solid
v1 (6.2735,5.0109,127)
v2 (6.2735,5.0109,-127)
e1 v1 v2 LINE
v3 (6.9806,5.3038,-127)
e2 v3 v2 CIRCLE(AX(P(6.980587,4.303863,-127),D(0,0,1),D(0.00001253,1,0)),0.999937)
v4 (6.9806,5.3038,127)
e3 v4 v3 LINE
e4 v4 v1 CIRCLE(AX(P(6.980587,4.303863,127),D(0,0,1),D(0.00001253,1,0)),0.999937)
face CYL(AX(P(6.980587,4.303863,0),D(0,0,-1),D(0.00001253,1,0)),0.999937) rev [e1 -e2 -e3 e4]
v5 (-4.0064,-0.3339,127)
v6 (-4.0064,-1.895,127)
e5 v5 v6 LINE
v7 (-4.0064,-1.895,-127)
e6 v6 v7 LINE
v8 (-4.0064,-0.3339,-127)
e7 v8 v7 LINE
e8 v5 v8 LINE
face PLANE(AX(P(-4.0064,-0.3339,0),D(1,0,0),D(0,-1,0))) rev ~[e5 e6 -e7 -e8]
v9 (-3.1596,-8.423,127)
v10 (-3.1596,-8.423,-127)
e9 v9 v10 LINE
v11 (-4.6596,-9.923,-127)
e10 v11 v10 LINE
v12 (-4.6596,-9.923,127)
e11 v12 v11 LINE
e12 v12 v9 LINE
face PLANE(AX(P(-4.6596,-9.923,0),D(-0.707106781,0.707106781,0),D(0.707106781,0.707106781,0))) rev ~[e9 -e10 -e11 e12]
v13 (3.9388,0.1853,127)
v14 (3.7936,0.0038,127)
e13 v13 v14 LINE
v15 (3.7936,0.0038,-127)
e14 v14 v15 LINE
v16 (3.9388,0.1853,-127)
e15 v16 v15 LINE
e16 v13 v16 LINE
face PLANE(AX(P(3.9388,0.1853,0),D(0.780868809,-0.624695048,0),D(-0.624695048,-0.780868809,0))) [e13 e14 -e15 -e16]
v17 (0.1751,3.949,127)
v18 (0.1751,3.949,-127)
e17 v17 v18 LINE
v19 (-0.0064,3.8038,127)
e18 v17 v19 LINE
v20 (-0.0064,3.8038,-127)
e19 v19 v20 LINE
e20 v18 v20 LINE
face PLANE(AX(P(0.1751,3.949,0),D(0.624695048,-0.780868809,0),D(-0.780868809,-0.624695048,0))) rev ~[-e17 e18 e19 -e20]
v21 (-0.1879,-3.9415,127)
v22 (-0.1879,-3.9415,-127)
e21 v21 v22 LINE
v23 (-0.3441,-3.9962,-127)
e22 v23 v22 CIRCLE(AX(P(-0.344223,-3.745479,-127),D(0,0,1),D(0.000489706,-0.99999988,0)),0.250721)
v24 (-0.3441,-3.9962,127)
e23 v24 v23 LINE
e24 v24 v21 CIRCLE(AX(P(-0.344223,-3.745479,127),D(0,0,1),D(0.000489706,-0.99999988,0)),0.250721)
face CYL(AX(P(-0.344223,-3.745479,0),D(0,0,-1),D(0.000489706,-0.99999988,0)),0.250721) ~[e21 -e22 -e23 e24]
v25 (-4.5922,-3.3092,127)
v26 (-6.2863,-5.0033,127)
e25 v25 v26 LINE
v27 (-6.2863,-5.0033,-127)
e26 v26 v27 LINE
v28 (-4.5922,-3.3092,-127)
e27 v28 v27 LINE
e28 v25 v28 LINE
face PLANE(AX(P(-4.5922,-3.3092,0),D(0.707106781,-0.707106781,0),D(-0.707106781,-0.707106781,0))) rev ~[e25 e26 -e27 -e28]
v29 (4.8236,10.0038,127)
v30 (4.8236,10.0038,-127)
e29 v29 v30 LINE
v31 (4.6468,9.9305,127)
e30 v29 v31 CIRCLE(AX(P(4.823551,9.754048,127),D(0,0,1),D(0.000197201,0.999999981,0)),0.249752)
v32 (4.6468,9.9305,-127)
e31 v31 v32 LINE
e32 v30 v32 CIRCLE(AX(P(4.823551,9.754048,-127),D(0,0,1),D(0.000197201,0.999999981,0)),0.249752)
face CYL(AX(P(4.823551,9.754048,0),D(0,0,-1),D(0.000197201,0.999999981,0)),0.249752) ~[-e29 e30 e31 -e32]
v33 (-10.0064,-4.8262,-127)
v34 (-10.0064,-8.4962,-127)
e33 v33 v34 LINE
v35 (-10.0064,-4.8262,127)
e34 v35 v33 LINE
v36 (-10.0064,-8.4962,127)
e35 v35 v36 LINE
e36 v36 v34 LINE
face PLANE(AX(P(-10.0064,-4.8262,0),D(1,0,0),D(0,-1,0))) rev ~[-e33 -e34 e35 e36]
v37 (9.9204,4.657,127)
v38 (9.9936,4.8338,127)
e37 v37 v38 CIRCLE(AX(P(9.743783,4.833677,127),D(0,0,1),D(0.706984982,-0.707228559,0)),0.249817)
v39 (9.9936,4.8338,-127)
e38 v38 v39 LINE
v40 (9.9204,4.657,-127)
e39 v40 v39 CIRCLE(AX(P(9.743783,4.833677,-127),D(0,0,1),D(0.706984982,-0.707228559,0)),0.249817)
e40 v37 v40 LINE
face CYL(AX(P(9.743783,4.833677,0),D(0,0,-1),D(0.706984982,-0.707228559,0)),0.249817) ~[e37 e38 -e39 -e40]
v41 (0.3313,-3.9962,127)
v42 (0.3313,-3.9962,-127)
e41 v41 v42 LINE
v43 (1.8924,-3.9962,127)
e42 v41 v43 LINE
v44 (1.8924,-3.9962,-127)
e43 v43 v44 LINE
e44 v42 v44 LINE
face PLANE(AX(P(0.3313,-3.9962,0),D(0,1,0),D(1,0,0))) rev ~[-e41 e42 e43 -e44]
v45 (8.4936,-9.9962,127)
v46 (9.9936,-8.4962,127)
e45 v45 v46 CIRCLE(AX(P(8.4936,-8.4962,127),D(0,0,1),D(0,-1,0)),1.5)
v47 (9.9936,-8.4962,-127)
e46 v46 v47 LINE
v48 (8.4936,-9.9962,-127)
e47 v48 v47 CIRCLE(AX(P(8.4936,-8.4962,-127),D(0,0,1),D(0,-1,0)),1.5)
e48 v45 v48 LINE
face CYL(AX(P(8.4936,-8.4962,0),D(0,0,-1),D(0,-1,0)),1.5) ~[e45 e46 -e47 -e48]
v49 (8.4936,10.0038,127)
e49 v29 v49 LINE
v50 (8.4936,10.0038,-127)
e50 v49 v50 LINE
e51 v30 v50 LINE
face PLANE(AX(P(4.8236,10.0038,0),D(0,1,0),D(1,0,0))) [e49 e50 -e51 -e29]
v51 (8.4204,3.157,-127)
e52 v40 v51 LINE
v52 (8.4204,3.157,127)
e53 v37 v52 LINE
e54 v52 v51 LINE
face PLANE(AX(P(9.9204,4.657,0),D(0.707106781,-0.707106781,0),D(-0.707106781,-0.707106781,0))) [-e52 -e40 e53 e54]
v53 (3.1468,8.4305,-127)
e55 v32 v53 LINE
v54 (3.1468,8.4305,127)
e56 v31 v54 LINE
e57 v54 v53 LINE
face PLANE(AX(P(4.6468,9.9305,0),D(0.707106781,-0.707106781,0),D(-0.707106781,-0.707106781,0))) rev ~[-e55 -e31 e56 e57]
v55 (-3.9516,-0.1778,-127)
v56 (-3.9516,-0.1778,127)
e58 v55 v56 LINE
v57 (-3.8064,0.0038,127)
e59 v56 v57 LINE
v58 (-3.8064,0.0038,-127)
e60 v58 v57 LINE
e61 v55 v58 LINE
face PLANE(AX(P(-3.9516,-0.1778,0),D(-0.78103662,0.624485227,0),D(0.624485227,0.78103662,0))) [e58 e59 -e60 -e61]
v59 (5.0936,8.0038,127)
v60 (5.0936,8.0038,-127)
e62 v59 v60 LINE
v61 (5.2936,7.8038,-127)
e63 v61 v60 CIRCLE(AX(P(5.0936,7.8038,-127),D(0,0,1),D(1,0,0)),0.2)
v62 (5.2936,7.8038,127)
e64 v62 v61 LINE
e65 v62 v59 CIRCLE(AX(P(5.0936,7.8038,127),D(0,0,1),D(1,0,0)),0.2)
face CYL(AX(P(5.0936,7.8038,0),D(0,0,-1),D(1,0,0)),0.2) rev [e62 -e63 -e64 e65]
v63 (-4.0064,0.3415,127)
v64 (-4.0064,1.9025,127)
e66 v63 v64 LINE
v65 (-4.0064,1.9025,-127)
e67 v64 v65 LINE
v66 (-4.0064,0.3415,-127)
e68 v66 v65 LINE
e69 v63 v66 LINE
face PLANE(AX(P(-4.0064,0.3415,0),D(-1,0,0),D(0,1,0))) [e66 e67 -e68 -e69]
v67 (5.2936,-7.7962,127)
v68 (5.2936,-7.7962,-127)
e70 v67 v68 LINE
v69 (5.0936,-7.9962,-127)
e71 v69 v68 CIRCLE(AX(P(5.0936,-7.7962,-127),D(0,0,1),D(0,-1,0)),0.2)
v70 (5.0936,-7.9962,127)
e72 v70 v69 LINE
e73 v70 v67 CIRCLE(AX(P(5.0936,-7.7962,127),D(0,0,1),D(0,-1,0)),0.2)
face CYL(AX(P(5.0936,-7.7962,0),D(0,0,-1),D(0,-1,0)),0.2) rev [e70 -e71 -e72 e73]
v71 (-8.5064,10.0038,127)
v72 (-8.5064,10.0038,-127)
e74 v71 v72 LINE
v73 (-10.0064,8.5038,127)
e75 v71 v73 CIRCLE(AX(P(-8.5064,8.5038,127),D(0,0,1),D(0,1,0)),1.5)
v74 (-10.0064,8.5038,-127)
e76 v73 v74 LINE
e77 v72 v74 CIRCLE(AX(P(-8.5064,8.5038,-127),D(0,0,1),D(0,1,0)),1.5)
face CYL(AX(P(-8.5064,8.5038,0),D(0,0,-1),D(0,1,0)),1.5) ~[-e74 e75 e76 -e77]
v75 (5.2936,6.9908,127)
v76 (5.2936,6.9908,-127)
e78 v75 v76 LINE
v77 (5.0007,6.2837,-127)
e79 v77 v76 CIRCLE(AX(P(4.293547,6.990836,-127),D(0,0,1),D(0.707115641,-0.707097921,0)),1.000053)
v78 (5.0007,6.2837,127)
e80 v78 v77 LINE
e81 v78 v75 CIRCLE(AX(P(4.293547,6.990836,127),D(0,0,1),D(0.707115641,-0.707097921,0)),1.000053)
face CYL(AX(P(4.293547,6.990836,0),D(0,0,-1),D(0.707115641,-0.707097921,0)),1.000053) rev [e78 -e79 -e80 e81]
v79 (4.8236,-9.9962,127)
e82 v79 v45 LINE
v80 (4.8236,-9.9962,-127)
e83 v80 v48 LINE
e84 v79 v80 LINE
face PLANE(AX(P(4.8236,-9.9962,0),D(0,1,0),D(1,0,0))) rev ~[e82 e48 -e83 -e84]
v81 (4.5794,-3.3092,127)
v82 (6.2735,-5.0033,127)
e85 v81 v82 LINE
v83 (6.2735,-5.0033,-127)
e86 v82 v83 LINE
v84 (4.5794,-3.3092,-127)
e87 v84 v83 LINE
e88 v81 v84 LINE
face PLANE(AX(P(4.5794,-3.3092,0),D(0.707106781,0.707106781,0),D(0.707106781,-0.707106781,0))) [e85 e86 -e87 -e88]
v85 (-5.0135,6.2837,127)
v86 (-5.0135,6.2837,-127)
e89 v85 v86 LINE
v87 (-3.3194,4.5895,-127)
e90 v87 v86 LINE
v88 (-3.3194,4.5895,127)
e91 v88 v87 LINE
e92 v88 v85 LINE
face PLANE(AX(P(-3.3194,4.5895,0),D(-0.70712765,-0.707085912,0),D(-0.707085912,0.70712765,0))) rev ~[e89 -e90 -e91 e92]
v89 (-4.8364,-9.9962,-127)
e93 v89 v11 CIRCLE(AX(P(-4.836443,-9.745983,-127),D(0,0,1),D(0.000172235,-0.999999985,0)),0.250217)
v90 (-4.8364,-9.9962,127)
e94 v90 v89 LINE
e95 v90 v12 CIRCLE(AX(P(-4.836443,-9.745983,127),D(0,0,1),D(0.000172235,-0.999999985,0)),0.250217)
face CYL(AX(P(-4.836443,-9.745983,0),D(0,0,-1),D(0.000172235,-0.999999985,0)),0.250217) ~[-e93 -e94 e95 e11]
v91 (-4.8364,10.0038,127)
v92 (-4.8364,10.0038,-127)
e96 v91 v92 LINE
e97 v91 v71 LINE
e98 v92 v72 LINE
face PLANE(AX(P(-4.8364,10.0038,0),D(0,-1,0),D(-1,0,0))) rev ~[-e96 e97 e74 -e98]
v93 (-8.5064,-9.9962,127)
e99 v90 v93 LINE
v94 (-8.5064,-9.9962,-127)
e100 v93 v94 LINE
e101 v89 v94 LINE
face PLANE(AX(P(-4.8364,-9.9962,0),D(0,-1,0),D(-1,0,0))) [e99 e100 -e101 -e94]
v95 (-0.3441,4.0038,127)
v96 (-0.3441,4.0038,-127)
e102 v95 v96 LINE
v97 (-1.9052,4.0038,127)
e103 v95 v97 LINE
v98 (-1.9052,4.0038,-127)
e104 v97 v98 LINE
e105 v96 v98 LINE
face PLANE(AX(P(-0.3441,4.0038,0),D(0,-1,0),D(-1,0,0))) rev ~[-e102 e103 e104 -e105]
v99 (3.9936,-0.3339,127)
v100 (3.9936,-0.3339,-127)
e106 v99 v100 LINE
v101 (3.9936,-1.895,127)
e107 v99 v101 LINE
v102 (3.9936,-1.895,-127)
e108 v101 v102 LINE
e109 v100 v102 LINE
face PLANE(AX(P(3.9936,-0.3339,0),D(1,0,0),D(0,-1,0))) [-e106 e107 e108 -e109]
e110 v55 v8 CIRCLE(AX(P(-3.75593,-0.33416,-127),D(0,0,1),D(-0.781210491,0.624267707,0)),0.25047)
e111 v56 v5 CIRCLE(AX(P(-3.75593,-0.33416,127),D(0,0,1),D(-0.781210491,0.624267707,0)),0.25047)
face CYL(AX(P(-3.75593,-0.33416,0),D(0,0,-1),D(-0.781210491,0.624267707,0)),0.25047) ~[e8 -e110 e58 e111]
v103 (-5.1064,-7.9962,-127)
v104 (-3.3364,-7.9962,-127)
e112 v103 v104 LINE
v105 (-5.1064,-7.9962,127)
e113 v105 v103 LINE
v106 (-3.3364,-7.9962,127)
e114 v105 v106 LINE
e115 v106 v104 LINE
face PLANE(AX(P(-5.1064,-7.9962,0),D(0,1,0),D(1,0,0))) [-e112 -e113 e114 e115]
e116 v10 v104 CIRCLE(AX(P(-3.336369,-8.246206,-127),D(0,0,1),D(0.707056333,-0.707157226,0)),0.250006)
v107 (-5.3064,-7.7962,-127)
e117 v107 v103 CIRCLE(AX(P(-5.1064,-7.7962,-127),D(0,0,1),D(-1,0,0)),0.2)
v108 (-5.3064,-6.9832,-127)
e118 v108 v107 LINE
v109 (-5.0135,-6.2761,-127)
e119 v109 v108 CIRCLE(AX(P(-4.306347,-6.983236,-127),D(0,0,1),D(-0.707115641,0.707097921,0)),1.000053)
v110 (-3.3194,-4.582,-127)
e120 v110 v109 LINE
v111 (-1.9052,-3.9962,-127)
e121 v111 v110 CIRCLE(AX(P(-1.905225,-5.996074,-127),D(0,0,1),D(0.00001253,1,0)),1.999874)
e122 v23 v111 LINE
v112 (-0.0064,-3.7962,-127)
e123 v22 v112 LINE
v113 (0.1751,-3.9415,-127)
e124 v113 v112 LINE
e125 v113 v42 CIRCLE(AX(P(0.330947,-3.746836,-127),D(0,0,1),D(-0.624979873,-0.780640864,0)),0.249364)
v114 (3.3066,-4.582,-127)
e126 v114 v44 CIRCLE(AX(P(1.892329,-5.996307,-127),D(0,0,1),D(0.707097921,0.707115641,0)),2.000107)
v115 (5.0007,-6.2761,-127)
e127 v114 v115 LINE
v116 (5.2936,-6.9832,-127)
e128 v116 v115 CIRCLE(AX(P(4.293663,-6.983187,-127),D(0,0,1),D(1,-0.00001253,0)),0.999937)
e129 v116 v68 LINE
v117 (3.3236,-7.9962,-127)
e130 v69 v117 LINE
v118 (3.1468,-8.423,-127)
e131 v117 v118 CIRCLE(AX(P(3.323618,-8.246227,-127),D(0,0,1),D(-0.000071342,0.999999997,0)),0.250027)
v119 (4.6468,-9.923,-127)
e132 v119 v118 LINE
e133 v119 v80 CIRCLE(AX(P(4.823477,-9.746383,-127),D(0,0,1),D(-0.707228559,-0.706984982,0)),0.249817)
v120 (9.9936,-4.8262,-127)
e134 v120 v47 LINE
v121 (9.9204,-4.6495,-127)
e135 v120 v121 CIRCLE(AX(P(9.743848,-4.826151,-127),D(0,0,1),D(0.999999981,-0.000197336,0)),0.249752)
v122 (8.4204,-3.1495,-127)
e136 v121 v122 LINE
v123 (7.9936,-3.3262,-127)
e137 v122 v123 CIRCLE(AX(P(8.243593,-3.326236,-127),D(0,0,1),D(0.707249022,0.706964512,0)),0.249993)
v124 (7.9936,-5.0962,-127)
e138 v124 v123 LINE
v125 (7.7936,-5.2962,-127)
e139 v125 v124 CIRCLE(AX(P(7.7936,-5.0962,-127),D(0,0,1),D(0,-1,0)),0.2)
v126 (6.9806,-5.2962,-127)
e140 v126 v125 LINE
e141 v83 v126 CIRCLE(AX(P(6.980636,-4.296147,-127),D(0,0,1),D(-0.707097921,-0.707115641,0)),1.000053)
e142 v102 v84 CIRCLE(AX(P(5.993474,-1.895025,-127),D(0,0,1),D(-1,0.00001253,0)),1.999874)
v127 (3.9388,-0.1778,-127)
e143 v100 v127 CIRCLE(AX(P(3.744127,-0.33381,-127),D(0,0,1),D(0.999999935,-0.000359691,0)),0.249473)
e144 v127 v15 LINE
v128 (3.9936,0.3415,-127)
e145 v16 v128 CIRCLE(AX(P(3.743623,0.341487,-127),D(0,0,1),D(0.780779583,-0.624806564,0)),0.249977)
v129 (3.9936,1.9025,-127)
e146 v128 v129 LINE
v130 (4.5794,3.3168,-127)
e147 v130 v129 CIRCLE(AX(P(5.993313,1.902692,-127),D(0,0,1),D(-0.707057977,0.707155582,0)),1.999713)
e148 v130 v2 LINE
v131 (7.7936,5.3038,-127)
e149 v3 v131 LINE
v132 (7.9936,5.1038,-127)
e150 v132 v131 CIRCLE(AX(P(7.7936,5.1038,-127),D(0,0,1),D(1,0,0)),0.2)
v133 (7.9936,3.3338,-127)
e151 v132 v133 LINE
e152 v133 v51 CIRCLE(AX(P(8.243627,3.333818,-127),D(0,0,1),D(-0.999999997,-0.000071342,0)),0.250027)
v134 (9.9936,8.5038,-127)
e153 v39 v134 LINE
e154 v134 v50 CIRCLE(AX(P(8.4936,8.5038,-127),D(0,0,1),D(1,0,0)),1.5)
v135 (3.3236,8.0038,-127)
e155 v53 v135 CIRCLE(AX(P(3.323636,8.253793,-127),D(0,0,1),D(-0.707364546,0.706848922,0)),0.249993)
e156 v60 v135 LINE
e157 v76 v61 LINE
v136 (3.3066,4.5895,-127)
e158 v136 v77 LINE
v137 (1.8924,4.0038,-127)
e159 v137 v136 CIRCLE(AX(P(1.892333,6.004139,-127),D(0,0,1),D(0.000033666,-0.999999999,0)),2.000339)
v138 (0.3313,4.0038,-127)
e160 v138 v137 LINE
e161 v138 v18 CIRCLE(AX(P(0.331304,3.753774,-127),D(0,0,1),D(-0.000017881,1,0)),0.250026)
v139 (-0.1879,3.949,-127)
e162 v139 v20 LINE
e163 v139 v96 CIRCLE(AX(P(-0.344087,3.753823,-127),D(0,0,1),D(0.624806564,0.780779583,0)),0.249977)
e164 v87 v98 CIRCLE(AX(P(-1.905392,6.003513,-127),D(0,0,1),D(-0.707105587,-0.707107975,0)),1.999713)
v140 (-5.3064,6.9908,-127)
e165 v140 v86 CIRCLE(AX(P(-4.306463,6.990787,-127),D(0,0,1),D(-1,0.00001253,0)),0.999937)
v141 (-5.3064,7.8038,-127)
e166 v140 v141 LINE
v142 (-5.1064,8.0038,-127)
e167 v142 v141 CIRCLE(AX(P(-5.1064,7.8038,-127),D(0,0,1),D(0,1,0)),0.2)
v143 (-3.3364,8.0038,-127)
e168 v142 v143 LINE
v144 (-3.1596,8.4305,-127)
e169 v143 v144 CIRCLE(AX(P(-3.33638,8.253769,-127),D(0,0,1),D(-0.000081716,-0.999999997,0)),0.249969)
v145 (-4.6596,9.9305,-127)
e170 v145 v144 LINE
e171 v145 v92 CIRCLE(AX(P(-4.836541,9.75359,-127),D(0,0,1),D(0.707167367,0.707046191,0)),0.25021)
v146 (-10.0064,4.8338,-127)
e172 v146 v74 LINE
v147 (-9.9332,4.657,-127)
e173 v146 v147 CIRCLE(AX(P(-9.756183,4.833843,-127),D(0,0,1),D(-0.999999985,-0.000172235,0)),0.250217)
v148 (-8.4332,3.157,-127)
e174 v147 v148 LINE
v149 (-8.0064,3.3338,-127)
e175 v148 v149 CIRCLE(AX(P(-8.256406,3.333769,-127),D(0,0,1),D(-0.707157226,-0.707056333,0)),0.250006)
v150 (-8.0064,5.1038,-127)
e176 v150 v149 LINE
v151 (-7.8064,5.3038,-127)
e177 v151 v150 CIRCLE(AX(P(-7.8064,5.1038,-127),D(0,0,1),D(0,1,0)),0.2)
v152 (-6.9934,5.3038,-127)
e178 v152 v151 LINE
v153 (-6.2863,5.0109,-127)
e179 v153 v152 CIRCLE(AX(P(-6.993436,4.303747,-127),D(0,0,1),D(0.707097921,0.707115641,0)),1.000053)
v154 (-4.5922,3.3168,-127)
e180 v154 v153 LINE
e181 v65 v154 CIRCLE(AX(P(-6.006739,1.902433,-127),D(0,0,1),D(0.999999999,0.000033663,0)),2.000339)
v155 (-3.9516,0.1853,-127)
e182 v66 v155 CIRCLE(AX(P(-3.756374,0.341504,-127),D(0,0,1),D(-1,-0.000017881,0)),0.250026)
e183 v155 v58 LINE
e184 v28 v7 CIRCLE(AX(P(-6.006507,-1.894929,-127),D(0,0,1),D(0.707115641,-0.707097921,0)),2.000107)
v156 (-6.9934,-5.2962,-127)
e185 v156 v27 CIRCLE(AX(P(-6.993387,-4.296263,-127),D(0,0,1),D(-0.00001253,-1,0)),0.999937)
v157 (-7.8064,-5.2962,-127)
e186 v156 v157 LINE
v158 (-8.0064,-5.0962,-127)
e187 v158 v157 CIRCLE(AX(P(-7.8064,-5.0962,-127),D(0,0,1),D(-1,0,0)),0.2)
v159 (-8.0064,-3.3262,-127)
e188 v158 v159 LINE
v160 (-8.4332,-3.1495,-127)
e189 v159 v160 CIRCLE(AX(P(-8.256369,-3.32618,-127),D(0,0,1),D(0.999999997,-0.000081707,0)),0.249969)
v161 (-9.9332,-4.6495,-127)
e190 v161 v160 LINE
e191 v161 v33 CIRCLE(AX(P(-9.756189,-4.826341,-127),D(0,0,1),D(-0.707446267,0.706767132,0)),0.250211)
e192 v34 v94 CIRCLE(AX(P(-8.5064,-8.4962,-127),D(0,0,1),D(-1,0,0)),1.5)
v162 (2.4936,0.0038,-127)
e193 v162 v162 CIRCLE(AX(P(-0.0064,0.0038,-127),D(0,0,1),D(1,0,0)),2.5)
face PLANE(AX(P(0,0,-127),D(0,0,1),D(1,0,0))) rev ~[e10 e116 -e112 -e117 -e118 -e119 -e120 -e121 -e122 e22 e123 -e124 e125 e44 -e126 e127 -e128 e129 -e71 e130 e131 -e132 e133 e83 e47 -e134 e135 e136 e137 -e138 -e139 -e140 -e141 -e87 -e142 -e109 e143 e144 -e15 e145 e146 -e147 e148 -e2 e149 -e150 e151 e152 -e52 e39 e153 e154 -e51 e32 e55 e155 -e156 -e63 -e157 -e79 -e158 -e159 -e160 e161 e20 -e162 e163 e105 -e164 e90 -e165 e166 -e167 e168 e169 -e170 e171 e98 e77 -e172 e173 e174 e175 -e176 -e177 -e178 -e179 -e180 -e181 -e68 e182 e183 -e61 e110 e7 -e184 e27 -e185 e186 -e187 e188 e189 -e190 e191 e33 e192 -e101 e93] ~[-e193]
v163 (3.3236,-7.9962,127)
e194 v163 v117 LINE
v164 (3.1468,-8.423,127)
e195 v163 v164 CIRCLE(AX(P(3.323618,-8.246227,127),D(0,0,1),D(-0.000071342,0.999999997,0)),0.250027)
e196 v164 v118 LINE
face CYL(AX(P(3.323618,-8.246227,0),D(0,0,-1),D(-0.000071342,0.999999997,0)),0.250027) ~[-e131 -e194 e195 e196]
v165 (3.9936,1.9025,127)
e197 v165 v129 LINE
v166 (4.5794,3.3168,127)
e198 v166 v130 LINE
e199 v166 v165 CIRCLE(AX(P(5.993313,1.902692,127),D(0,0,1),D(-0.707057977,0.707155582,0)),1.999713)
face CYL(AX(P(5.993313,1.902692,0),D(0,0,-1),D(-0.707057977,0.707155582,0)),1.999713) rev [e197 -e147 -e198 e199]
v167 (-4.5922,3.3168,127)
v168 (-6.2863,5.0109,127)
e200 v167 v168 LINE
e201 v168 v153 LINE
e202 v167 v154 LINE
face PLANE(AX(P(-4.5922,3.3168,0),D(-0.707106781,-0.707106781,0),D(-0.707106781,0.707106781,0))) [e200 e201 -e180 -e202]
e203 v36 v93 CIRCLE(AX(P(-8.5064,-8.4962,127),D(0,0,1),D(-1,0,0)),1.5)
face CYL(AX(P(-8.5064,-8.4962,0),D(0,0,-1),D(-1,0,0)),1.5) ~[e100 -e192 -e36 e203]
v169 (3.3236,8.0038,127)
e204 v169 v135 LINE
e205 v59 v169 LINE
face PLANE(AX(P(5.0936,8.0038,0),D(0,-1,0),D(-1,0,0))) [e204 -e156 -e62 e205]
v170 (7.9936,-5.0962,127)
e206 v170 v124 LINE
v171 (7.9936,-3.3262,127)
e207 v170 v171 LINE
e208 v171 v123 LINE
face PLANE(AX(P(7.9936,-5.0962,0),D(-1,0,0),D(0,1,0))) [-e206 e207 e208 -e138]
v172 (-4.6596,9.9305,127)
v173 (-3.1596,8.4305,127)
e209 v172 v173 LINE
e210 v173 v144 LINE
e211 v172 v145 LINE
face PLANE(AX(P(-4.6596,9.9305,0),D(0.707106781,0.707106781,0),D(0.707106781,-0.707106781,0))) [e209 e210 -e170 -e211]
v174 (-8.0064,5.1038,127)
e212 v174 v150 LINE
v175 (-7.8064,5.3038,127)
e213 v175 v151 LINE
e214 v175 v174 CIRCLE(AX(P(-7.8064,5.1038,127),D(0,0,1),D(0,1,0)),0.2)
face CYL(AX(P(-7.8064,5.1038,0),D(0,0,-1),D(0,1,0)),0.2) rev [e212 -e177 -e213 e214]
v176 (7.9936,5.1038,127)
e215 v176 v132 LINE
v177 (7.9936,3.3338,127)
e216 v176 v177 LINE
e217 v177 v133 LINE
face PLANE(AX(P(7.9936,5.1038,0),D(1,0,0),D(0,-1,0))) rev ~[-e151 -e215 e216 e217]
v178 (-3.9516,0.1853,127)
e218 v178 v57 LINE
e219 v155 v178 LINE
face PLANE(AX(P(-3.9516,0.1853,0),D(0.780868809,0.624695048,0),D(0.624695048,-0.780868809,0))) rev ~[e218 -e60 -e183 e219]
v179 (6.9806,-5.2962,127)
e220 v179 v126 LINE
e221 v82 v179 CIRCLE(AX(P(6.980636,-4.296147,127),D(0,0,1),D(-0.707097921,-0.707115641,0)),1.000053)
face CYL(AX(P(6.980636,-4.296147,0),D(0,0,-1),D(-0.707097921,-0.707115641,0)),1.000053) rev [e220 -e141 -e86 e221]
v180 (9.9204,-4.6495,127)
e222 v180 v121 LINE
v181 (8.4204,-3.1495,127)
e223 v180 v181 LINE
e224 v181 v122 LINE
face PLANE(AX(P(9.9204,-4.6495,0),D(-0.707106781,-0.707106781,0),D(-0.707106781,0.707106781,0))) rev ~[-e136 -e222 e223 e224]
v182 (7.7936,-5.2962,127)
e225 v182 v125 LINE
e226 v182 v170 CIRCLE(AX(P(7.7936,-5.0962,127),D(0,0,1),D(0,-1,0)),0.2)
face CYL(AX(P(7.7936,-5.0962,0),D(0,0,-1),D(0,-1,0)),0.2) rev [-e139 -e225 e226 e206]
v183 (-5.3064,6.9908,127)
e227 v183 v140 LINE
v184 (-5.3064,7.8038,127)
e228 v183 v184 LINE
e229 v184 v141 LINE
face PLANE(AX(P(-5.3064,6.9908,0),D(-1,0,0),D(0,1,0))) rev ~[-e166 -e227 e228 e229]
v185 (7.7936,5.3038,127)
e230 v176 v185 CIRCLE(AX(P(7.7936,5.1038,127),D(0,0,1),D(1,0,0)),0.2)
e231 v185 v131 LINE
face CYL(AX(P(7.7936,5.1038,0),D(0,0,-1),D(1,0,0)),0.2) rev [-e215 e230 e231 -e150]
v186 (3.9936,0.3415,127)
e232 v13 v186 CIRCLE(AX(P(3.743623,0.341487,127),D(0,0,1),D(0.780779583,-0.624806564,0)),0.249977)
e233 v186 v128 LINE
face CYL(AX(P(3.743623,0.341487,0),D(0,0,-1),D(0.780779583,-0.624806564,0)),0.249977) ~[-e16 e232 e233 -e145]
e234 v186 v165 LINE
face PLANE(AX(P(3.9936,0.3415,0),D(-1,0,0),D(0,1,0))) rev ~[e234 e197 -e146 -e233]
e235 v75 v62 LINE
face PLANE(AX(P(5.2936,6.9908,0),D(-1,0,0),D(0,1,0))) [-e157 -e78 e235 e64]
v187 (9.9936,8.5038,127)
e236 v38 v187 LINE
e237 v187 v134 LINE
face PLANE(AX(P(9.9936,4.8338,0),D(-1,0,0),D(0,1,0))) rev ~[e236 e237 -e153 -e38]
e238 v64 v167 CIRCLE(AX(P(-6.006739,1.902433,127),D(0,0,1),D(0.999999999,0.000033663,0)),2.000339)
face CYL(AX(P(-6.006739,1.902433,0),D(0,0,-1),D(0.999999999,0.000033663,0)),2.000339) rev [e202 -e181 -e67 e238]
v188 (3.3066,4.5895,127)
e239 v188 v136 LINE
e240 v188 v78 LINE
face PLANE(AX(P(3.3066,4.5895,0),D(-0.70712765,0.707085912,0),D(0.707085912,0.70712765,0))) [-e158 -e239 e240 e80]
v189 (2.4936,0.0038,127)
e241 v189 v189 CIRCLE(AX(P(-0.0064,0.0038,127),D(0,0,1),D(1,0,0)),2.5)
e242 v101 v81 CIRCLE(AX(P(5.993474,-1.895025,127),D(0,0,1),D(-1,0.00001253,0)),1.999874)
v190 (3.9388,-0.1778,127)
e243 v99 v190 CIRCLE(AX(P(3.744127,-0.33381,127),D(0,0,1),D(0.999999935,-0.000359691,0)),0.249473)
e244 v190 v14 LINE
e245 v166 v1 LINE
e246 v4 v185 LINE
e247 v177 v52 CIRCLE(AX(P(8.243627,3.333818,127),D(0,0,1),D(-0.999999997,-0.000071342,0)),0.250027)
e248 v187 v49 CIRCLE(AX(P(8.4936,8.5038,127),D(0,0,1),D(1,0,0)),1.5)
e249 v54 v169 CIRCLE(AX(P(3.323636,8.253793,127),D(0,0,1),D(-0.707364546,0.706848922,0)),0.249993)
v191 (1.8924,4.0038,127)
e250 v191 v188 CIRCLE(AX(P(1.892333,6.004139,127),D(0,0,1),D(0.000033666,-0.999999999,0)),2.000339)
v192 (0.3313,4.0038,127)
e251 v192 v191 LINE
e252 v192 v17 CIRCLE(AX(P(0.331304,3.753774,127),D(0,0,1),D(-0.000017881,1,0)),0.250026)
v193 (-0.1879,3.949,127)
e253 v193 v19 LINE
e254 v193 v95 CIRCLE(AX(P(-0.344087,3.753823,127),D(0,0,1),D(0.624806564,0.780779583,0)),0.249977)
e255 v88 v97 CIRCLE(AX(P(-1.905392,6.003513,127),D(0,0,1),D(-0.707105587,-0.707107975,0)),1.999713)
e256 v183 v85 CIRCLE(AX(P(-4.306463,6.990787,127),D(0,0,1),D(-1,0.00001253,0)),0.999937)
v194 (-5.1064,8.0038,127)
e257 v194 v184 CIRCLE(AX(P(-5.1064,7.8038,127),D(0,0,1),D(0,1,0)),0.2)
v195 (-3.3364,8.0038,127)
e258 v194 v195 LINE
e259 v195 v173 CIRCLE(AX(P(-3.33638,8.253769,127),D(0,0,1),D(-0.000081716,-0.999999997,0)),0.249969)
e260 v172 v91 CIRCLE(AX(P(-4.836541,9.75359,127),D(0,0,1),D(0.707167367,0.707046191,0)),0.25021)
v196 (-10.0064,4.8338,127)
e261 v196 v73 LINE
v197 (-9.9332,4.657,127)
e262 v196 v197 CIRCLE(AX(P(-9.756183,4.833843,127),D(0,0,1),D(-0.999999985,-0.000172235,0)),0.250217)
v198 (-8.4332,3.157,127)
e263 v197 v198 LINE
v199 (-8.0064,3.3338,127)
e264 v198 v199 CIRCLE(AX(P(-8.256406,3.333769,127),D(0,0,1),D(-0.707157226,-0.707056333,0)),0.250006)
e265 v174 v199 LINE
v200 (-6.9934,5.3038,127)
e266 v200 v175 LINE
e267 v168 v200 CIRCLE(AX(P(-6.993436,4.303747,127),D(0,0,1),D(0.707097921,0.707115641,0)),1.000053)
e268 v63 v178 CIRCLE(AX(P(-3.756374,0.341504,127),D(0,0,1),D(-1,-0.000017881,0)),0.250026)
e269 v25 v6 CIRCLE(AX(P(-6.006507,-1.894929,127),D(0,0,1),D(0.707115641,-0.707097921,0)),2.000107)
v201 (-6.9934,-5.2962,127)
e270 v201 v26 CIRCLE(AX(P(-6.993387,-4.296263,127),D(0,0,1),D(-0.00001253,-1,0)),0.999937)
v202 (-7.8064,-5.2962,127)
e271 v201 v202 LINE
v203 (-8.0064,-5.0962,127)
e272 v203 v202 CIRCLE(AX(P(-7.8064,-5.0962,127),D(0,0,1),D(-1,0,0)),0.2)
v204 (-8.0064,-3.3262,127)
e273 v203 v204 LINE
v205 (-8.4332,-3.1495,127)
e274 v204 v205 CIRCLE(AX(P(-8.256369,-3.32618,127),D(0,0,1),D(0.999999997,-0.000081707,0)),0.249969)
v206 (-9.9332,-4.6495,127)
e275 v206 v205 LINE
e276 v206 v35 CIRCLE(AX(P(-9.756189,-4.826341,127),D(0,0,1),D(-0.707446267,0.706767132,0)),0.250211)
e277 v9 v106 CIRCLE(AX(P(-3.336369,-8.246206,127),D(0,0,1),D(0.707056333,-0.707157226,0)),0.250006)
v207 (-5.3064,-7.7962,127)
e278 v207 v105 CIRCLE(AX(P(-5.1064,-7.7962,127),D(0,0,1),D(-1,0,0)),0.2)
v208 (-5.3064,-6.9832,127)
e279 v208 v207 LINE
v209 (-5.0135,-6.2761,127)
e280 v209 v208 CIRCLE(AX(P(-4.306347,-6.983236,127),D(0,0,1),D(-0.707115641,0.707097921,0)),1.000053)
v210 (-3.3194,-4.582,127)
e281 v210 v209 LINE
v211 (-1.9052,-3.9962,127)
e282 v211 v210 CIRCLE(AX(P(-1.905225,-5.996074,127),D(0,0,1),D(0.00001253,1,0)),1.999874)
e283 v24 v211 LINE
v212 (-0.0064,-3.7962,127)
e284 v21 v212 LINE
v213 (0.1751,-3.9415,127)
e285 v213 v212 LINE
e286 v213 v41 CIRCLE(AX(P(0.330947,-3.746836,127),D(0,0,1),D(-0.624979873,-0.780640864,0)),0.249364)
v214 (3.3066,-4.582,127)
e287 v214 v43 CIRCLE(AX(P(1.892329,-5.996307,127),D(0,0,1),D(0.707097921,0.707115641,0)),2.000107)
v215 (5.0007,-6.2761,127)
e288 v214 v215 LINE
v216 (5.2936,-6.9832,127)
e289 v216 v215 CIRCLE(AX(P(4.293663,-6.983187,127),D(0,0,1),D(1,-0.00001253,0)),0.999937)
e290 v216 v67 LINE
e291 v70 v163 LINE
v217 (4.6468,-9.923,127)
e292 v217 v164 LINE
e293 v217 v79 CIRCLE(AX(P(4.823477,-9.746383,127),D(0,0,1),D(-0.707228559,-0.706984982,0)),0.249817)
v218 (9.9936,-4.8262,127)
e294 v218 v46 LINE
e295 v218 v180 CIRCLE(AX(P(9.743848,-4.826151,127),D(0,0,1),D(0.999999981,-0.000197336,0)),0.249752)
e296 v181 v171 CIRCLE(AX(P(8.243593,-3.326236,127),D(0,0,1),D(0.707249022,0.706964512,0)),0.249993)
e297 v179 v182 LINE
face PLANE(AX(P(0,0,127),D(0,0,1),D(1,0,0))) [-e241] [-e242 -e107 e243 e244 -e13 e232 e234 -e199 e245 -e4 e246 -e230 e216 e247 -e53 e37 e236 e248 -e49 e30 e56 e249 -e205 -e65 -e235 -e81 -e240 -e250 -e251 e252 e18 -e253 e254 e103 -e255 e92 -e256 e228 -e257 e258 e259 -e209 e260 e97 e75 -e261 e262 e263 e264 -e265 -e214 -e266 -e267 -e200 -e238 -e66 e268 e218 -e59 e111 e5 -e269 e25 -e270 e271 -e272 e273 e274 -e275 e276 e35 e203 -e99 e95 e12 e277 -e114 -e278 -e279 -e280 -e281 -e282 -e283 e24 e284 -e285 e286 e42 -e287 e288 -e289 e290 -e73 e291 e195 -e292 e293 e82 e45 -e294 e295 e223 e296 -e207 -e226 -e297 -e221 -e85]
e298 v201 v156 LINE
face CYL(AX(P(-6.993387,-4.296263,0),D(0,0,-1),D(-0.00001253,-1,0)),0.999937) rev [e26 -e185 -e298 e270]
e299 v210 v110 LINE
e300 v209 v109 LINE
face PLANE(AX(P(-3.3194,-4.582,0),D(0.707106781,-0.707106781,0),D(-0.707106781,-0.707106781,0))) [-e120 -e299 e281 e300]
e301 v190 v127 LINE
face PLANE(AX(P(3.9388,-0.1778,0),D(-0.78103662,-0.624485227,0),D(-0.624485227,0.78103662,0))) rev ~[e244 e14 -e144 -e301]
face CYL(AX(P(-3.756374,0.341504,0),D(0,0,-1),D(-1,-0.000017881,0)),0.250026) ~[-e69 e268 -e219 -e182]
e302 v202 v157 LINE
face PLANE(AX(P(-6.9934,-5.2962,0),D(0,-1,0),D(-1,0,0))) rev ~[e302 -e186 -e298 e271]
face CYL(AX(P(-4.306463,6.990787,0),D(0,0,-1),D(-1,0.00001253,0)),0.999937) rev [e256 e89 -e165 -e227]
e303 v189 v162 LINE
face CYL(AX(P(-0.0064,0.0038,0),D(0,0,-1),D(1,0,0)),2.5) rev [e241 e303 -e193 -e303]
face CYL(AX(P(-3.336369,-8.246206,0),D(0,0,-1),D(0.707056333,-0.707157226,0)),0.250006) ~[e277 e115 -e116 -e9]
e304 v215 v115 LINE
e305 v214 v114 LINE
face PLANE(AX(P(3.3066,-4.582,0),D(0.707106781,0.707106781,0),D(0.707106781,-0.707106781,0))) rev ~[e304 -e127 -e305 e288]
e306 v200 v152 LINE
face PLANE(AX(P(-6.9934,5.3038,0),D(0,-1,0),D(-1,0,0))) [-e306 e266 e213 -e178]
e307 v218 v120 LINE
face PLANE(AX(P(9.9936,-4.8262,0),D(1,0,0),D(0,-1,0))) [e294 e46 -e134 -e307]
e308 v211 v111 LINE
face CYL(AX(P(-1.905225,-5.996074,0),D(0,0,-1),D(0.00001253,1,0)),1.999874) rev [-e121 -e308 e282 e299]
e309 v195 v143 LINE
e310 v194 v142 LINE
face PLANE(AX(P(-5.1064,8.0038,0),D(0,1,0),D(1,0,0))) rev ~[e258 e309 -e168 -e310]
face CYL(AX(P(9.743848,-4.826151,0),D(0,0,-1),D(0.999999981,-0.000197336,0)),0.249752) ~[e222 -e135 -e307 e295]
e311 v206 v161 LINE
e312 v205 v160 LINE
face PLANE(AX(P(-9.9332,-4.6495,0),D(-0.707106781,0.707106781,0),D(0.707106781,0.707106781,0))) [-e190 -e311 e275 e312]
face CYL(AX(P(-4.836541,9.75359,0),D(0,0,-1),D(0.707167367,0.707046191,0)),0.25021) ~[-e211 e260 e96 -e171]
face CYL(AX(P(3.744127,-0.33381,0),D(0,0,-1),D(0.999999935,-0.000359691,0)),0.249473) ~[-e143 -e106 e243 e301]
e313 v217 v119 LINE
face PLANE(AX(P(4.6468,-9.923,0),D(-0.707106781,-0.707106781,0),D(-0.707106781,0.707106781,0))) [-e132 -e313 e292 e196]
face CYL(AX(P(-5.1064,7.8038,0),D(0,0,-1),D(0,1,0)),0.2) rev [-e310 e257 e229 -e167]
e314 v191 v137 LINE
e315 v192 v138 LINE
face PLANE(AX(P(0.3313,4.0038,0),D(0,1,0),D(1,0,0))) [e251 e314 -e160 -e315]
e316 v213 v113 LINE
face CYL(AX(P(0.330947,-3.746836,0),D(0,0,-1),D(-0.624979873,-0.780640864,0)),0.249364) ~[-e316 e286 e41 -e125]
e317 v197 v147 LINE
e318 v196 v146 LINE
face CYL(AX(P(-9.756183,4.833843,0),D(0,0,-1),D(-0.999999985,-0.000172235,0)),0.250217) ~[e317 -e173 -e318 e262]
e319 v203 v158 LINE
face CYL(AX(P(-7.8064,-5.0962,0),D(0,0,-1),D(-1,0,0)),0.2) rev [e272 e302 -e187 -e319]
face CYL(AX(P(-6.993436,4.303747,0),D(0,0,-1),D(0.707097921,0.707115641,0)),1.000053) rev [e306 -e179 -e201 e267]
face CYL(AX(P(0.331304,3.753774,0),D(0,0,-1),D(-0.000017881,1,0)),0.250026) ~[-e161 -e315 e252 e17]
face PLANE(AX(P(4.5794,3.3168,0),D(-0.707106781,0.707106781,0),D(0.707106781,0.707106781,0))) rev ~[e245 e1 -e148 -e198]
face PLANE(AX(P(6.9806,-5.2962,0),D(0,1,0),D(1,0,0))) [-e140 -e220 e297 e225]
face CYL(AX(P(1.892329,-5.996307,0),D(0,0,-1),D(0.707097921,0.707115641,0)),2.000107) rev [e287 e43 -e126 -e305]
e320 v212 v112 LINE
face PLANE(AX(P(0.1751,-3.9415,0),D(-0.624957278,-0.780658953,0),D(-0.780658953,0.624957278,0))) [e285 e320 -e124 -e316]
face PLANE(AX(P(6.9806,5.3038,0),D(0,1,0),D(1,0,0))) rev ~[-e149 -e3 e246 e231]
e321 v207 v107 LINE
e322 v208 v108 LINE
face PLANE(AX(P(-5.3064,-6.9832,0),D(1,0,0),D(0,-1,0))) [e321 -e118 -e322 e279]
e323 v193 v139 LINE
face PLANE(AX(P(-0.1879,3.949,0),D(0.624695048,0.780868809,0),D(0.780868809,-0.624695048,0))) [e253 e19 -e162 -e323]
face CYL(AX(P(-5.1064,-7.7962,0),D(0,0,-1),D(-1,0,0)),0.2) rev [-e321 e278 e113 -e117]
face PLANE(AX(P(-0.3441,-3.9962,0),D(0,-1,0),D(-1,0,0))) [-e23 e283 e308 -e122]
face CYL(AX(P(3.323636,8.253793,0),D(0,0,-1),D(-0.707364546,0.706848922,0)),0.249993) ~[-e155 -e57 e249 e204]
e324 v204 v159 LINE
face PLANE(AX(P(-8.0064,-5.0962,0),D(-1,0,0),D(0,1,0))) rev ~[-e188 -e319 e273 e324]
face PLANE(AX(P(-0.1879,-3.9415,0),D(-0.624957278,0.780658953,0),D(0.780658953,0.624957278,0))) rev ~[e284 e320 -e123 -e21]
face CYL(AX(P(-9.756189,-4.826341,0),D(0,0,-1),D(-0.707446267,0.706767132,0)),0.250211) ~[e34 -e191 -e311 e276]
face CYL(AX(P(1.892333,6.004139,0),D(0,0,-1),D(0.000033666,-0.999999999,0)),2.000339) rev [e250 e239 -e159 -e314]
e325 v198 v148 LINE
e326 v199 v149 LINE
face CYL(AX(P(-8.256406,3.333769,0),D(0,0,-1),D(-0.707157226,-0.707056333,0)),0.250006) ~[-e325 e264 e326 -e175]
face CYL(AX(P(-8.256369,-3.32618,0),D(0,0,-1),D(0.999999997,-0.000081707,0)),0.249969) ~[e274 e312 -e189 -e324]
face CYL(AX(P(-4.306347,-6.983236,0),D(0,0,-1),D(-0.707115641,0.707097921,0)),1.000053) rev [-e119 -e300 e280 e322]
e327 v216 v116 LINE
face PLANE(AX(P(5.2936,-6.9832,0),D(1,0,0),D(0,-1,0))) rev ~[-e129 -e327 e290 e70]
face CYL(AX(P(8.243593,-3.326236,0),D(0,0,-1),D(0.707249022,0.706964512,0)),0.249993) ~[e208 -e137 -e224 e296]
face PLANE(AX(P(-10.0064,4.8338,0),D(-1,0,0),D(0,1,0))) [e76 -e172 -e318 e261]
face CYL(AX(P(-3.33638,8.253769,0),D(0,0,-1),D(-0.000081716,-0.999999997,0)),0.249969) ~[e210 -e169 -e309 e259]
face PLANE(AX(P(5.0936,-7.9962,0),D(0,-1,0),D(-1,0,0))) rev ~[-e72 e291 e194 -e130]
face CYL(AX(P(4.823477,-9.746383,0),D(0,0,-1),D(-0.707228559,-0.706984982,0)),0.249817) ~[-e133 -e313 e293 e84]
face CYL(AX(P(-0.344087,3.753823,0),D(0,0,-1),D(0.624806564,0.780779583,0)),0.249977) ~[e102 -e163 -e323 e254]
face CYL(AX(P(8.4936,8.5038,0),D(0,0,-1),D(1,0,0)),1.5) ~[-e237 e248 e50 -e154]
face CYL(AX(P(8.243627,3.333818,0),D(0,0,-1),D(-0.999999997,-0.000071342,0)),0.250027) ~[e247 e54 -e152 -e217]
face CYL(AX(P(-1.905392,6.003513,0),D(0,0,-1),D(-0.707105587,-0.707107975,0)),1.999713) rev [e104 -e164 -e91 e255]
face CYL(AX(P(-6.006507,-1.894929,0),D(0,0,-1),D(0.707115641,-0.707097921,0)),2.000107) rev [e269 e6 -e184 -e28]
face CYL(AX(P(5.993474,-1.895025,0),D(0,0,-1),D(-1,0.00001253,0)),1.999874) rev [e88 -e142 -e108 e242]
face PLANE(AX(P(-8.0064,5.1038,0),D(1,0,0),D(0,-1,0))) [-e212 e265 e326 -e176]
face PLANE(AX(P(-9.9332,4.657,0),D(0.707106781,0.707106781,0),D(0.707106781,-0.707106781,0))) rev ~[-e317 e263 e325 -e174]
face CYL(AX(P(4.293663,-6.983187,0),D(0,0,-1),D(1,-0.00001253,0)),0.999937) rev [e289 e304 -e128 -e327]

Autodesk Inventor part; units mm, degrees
ref_plane "YZ Plane" through (0, 0, 0) normal (1, 0, 0) x (0, 1, 0)
ref_plane "XZ Plane" through (0, 0, 0) normal (0, 1, 0) x (-1, 0, 0)
ref_plane "XY Plane" through (0, 0, 0) normal (0, 0, 1) x (1, 0, 0)
sketch "Эскиз1" plane through (0, 0, 0) normal (0, 0, 1) x (1, 0, 0)
  line L0 (-3.9516, 0.1853) -> (-3.8064, 0.0038)
  line L1 (-3.9516, -0.1778) -> (-3.8064, 0.0038)
  arc A0 (-3.9516, -0.1778) -> (-4.0064, -0.3339) centre (-3.7564, -0.3339) ccw
  line L2 (-4.0064, -0.3339) -> (-4.0064, -1.895)
  arc A1 (-4.5922, -3.3092) -> (-4.0064, -1.895) centre (-6.0064, -1.895) ccw
  line L3 (-4.5922, -3.3092) -> (-6.2863, -5.0033)
  arc A2 (-6.9934, -5.2962) -> (-6.2863, -5.0033) centre (-6.9934, -4.2962) ccw
  line L4 (-6.9934, -5.2962) -> (-7.8064, -5.2962)
  arc A3 (-8.0064, -5.0962) -> (-7.8064, -5.2962) centre (-7.8064, -5.0962) ccw
  line L5 (-8.0064, -5.0962) -> (-8.0064, -3.3262)
  arc A4 (-8.0064, -3.3262) -> (-8.4332, -3.1495) centre (-8.2564, -3.3262) ccw
  line L6 (-9.9332, -4.6495) -> (-8.4332, -3.1495)
  arc A5 (-9.9332, -4.6495) -> (-10.0064, -4.8262) centre (-9.7564, -4.8262) ccw
  line L7 (-10.0064, -4.8262) -> (-10.0064, -8.4962)
  arc A6 (-10.0064, -8.4962) -> (-8.5064, -9.9962) centre (-8.5064, -8.4962) ccw
  line L8 (-4.8364, -9.9962) -> (-8.5064, -9.9962)
  arc A7 (-4.8364, -9.9962) -> (-4.6596, -9.923) centre (-4.8364, -9.7462) ccw
  line L9 (-4.6596, -9.923) -> (-3.1596, -8.423)
  arc A8 (-3.1596, -8.423) -> (-3.3364, -7.9962) centre (-3.3364, -8.2462) ccw
  line L10 (-5.1064, -7.9962) -> (-3.3364, -7.9962)
  arc A9 (-5.3064, -7.7962) -> (-5.1064, -7.9962) centre (-5.1064, -7.7962) ccw
  line L11 (-5.3064, -6.9832) -> (-5.3064, -7.7962)
  arc A10 (-5.0135, -6.2761) -> (-5.3064, -6.9832) centre (-4.3064, -6.9832) ccw
  line L12 (-3.3194, -4.582) -> (-5.0135, -6.2761)
  arc A11 (-1.9052, -3.9962) -> (-3.3194, -4.582) centre (-1.9052, -5.9962) ccw
  line L13 (-0.3441, -3.9962) -> (-1.9052, -3.9962)
  arc A12 (-0.3441, -3.9962) -> (-0.1879, -3.9415) centre (-0.3441, -3.7462) ccw
  line L14 (-0.1879, -3.9415) -> (-0.0064, -3.7962)
  line L15 (0.1751, -3.9415) -> (-0.0064, -3.7962)
  arc A13 (0.1751, -3.9415) -> (0.3313, -3.9962) centre (0.3313, -3.7462) ccw
  line L16 (0.3313, -3.9962) -> (1.8924, -3.9962)
  arc A14 (3.3066, -4.582) -> (1.8924, -3.9962) centre (1.8924, -5.9962) ccw
  line L17 (3.3066, -4.582) -> (5.0007, -6.2761)
  arc A15 (5.2936, -6.9832) -> (5.0007, -6.2761) centre (4.2936, -6.9832) ccw
  line L18 (5.2936, -6.9832) -> (5.2936, -7.7962)
  arc A16 (5.0936, -7.9962) -> (5.2936, -7.7962) centre (5.0936, -7.7962) ccw
  line L19 (5.0936, -7.9962) -> (3.3236, -7.9962)
  arc A17 (3.3236, -7.9962) -> (3.1468, -8.423) centre (3.3236, -8.2462) ccw
  line L20 (4.6468, -9.923) -> (3.1468, -8.423)
  arc A18 (4.6468, -9.923) -> (4.8236, -9.9962) centre (4.8236, -9.7462) ccw
  line L21 (4.8236, -9.9962) -> (8.4936, -9.9962)
  arc A19 (8.4936, -9.9962) -> (9.9936, -8.4962) centre (8.4936, -8.4962) ccw
  line L22 (9.9936, -4.8262) -> (9.9936, -8.4962)
  arc A20 (9.9936, -4.8262) -> (9.9204, -4.6495) centre (9.7436, -4.8262) ccw
  line L23 (9.9204, -4.6495) -> (8.4204, -3.1495)
  arc A21 (8.4204, -3.1495) -> (7.9936, -3.3262) centre (8.2436, -3.3262) ccw
  line L24 (7.9936, -5.0962) -> (7.9936, -3.3262)
  arc A22 (7.7936, -5.2962) -> (7.9936, -5.0962) centre (7.7936, -5.0962) ccw
  line L25 (6.9806, -5.2962) -> (7.7936, -5.2962)
  arc A23 (6.2735, -5.0033) -> (6.9806, -5.2962) centre (6.9806, -4.2962) ccw
  line L26 (4.5794, -3.3092) -> (6.2735, -5.0033)
  arc A24 (3.9936, -1.895) -> (4.5794, -3.3092) centre (5.9936, -1.895) ccw
  line L27 (3.9936, -0.3339) -> (3.9936, -1.895)
  arc A25 (3.9936, -0.3339) -> (3.9388, -0.1778) centre (3.7436, -0.3339) ccw
  line L28 (3.9388, -0.1778) -> (3.7936, 0.0038)
  line L29 (3.9388, 0.1853) -> (3.7936, 0.0038)
  arc A26 (3.9388, 0.1853) -> (3.9936, 0.3415) centre (3.7436, 0.3415) ccw
  line L30 (3.9936, 0.3415) -> (3.9936, 1.9025)
  arc A27 (4.5794, 3.3168) -> (3.9936, 1.9025) centre (5.9936, 1.9025) ccw
  line L31 (4.5794, 3.3168) -> (6.2735, 5.0109)
  arc A28 (6.9806, 5.3038) -> (6.2735, 5.0109) centre (6.9806, 4.3038) ccw
  line L32 (6.9806, 5.3038) -> (7.7936, 5.3038)
  arc A29 (7.9936, 5.1038) -> (7.7936, 5.3038) centre (7.7936, 5.1038) ccw
  line L33 (7.9936, 5.1038) -> (7.9936, 3.3338)
  arc A30 (7.9936, 3.3338) -> (8.4204, 3.157) centre (8.2436, 3.3338) ccw
  line L34 (9.9204, 4.657) -> (8.4204, 3.157)
  arc A31 (9.9204, 4.657) -> (9.9936, 4.8338) centre (9.7436, 4.8338) ccw
  line L35 (9.9936, 4.8338) -> (9.9936, 8.5038)
  arc A32 (9.9936, 8.5038) -> (8.4936, 10.0038) centre (8.4936, 8.5038) ccw
  line L36 (4.8236, 10.0038) -> (8.4936, 10.0038)
  arc A33 (4.8236, 10.0038) -> (4.6468, 9.9305) centre (4.8236, 9.7538) ccw
  line L37 (4.6468, 9.9305) -> (3.1468, 8.4305)
  arc A34 (3.1468, 8.4305) -> (3.3236, 8.0038) centre (3.3236, 8.2538) ccw
  line L38 (5.0936, 8.0038) -> (3.3236, 8.0038)
  arc A35 (5.2936, 7.8038) -> (5.0936, 8.0038) centre (5.0936, 7.8038) ccw
  line L39 (5.2936, 6.9908) -> (5.2936, 7.8038)
  arc A36 (5.0007, 6.2837) -> (5.2936, 6.9908) centre (4.2936, 6.9908) ccw
  line L40 (3.3066, 4.5895) -> (5.0007, 6.2837)
  arc A37 (1.8924, 4.0038) -> (3.3066, 4.5895) centre (1.8924, 6.0038) ccw
  line L41 (0.3313, 4.0038) -> (1.8924, 4.0038)
  arc A38 (0.3313, 4.0038) -> (0.1751, 3.949) centre (0.3313, 3.7538) ccw
  line L42 (0.1751, 3.949) -> (-0.0064, 3.8038)
  line L43 (-0.1879, 3.949) -> (-0.0064, 3.8038)
  arc A39 (-0.1879, 3.949) -> (-0.3441, 4.0038) centre (-0.3441, 3.7538) ccw
  line L44 (-0.3441, 4.0038) -> (-1.9052, 4.0038)
  arc A40 (-3.3194, 4.5895) -> (-1.9052, 4.0038) centre (-1.9052, 6.0038) ccw
  line L45 (-3.3194, 4.5895) -> (-5.0135, 6.2837)
  arc A41 (-5.3064, 6.9908) -> (-5.0135, 6.2837) centre (-4.3064, 6.9908) ccw
  line L46 (-5.3064, 6.9908) -> (-5.3064, 7.8038)
  arc A42 (-5.1064, 8.0038) -> (-5.3064, 7.8038) centre (-5.1064, 7.8038) ccw
  line L47 (-5.1064, 8.0038) -> (-3.3364, 8.0038)
  arc A43 (-3.3364, 8.0038) -> (-3.1596, 8.4305) centre (-3.3364, 8.2538) ccw
  line L48 (-4.6596, 9.9305) -> (-3.1596, 8.4305)
  arc A44 (-4.6596, 9.9305) -> (-4.8364, 10.0038) centre (-4.8364, 9.7538) ccw
  line L49 (-4.8364, 10.0038) -> (-8.5064, 10.0038)
  arc A45 (-8.5064, 10.0038) -> (-10.0064, 8.5038) centre (-8.5064, 8.5038) ccw
  line L50 (-10.0064, 4.8338) -> (-10.0064, 8.5038)
  arc A46 (-10.0064, 4.8338) -> (-9.9332, 4.657) centre (-9.7564, 4.8338) ccw
  line L51 (-9.9332, 4.657) -> (-8.4332, 3.157)
  arc A47 (-8.4332, 3.157) -> (-8.0064, 3.3338) centre (-8.2564, 3.3338) ccw
  line L52 (-8.0064, 5.1038) -> (-8.0064, 3.3338)
  arc A48 (-7.8064, 5.3038) -> (-8.0064, 5.1038) centre (-7.8064, 5.1038) ccw
  line L53 (-6.9934, 5.3038) -> (-7.8064, 5.3038)
  arc A49 (-6.2863, 5.0109) -> (-6.9934, 5.3038) centre (-6.9934, 4.3038) ccw
  line L54 (-4.5922, 3.3168) -> (-6.2863, 5.0109)
  arc A50 (-4.0064, 1.9025) -> (-4.5922, 3.3168) centre (-6.0064, 1.9025) ccw
  line L55 (-4.0064, 0.3415) -> (-4.0064, 1.9025)
  arc A51 (-4.0064, 0.3415) -> (-3.9516, 0.1853) centre (-3.7564, 0.3415) ccw
  circle A52 centre (-0.0064, 0.0038) radius 2.5
  point P0 (0, 0)
  point P1 (-0.0064, 0.0038)
  dimension "d0" = 0.25
  dimension "d1" = 1.5
  dimension "d2" = 0.2
  dimension "d3" = 1
  dimension "d4" = 2
  dimension "d5" = 5
  dimension "d6" = 135
  dimension "d7" = 38.66
  dimension "d8" = 38.66
  dimension "d9" = 45
  dimension "d10" = 2
  dimension "d11" = 4.7
  dimension "d12" = 14
  dimension "d13" = 15.3
  dimension "d14" = 20
  dimension "d15" = 2.829
  dimension "d16" = 4.629
  dimension "d17" = 7.4579
  dimension "d18" = 2.829
  dimension "d19" = 4.629
  dimension "d20" = 7.4579
  dimension "d21" = 10.6
  dimension "d22" = 4.7
  dimension "d23" = 15.3
  dimension "d24" = 2.7
  dimension "d25" = 13.3
  dimension "d26" = 5.9346
  dimension "d27" = 5.9346
  dimension "d28" = 5.9346
  dimension "d29" = 5.9346
  dimension "d30" = 9.9936
  dimension "d31" = 3.7218
  dimension "d32" = 3.7271
  dimension "d33" = 5.3038
  dimension "d34" = 2.96
  dimension "d35" = 2.9647
  dimension "d36" = 2.9742
  dimension "d37" = 2.9684
  dimension "d38" = 8.0064
  dimension "d39" = 10
  dimension "d40" = 3.729
  dimension "d41" = 10
  dimension "d42" = 3.729
extrude "Выдавливание1" add sketch "Эскиз1" along normal mid plane 254
properties part number "T-SLOT B"
